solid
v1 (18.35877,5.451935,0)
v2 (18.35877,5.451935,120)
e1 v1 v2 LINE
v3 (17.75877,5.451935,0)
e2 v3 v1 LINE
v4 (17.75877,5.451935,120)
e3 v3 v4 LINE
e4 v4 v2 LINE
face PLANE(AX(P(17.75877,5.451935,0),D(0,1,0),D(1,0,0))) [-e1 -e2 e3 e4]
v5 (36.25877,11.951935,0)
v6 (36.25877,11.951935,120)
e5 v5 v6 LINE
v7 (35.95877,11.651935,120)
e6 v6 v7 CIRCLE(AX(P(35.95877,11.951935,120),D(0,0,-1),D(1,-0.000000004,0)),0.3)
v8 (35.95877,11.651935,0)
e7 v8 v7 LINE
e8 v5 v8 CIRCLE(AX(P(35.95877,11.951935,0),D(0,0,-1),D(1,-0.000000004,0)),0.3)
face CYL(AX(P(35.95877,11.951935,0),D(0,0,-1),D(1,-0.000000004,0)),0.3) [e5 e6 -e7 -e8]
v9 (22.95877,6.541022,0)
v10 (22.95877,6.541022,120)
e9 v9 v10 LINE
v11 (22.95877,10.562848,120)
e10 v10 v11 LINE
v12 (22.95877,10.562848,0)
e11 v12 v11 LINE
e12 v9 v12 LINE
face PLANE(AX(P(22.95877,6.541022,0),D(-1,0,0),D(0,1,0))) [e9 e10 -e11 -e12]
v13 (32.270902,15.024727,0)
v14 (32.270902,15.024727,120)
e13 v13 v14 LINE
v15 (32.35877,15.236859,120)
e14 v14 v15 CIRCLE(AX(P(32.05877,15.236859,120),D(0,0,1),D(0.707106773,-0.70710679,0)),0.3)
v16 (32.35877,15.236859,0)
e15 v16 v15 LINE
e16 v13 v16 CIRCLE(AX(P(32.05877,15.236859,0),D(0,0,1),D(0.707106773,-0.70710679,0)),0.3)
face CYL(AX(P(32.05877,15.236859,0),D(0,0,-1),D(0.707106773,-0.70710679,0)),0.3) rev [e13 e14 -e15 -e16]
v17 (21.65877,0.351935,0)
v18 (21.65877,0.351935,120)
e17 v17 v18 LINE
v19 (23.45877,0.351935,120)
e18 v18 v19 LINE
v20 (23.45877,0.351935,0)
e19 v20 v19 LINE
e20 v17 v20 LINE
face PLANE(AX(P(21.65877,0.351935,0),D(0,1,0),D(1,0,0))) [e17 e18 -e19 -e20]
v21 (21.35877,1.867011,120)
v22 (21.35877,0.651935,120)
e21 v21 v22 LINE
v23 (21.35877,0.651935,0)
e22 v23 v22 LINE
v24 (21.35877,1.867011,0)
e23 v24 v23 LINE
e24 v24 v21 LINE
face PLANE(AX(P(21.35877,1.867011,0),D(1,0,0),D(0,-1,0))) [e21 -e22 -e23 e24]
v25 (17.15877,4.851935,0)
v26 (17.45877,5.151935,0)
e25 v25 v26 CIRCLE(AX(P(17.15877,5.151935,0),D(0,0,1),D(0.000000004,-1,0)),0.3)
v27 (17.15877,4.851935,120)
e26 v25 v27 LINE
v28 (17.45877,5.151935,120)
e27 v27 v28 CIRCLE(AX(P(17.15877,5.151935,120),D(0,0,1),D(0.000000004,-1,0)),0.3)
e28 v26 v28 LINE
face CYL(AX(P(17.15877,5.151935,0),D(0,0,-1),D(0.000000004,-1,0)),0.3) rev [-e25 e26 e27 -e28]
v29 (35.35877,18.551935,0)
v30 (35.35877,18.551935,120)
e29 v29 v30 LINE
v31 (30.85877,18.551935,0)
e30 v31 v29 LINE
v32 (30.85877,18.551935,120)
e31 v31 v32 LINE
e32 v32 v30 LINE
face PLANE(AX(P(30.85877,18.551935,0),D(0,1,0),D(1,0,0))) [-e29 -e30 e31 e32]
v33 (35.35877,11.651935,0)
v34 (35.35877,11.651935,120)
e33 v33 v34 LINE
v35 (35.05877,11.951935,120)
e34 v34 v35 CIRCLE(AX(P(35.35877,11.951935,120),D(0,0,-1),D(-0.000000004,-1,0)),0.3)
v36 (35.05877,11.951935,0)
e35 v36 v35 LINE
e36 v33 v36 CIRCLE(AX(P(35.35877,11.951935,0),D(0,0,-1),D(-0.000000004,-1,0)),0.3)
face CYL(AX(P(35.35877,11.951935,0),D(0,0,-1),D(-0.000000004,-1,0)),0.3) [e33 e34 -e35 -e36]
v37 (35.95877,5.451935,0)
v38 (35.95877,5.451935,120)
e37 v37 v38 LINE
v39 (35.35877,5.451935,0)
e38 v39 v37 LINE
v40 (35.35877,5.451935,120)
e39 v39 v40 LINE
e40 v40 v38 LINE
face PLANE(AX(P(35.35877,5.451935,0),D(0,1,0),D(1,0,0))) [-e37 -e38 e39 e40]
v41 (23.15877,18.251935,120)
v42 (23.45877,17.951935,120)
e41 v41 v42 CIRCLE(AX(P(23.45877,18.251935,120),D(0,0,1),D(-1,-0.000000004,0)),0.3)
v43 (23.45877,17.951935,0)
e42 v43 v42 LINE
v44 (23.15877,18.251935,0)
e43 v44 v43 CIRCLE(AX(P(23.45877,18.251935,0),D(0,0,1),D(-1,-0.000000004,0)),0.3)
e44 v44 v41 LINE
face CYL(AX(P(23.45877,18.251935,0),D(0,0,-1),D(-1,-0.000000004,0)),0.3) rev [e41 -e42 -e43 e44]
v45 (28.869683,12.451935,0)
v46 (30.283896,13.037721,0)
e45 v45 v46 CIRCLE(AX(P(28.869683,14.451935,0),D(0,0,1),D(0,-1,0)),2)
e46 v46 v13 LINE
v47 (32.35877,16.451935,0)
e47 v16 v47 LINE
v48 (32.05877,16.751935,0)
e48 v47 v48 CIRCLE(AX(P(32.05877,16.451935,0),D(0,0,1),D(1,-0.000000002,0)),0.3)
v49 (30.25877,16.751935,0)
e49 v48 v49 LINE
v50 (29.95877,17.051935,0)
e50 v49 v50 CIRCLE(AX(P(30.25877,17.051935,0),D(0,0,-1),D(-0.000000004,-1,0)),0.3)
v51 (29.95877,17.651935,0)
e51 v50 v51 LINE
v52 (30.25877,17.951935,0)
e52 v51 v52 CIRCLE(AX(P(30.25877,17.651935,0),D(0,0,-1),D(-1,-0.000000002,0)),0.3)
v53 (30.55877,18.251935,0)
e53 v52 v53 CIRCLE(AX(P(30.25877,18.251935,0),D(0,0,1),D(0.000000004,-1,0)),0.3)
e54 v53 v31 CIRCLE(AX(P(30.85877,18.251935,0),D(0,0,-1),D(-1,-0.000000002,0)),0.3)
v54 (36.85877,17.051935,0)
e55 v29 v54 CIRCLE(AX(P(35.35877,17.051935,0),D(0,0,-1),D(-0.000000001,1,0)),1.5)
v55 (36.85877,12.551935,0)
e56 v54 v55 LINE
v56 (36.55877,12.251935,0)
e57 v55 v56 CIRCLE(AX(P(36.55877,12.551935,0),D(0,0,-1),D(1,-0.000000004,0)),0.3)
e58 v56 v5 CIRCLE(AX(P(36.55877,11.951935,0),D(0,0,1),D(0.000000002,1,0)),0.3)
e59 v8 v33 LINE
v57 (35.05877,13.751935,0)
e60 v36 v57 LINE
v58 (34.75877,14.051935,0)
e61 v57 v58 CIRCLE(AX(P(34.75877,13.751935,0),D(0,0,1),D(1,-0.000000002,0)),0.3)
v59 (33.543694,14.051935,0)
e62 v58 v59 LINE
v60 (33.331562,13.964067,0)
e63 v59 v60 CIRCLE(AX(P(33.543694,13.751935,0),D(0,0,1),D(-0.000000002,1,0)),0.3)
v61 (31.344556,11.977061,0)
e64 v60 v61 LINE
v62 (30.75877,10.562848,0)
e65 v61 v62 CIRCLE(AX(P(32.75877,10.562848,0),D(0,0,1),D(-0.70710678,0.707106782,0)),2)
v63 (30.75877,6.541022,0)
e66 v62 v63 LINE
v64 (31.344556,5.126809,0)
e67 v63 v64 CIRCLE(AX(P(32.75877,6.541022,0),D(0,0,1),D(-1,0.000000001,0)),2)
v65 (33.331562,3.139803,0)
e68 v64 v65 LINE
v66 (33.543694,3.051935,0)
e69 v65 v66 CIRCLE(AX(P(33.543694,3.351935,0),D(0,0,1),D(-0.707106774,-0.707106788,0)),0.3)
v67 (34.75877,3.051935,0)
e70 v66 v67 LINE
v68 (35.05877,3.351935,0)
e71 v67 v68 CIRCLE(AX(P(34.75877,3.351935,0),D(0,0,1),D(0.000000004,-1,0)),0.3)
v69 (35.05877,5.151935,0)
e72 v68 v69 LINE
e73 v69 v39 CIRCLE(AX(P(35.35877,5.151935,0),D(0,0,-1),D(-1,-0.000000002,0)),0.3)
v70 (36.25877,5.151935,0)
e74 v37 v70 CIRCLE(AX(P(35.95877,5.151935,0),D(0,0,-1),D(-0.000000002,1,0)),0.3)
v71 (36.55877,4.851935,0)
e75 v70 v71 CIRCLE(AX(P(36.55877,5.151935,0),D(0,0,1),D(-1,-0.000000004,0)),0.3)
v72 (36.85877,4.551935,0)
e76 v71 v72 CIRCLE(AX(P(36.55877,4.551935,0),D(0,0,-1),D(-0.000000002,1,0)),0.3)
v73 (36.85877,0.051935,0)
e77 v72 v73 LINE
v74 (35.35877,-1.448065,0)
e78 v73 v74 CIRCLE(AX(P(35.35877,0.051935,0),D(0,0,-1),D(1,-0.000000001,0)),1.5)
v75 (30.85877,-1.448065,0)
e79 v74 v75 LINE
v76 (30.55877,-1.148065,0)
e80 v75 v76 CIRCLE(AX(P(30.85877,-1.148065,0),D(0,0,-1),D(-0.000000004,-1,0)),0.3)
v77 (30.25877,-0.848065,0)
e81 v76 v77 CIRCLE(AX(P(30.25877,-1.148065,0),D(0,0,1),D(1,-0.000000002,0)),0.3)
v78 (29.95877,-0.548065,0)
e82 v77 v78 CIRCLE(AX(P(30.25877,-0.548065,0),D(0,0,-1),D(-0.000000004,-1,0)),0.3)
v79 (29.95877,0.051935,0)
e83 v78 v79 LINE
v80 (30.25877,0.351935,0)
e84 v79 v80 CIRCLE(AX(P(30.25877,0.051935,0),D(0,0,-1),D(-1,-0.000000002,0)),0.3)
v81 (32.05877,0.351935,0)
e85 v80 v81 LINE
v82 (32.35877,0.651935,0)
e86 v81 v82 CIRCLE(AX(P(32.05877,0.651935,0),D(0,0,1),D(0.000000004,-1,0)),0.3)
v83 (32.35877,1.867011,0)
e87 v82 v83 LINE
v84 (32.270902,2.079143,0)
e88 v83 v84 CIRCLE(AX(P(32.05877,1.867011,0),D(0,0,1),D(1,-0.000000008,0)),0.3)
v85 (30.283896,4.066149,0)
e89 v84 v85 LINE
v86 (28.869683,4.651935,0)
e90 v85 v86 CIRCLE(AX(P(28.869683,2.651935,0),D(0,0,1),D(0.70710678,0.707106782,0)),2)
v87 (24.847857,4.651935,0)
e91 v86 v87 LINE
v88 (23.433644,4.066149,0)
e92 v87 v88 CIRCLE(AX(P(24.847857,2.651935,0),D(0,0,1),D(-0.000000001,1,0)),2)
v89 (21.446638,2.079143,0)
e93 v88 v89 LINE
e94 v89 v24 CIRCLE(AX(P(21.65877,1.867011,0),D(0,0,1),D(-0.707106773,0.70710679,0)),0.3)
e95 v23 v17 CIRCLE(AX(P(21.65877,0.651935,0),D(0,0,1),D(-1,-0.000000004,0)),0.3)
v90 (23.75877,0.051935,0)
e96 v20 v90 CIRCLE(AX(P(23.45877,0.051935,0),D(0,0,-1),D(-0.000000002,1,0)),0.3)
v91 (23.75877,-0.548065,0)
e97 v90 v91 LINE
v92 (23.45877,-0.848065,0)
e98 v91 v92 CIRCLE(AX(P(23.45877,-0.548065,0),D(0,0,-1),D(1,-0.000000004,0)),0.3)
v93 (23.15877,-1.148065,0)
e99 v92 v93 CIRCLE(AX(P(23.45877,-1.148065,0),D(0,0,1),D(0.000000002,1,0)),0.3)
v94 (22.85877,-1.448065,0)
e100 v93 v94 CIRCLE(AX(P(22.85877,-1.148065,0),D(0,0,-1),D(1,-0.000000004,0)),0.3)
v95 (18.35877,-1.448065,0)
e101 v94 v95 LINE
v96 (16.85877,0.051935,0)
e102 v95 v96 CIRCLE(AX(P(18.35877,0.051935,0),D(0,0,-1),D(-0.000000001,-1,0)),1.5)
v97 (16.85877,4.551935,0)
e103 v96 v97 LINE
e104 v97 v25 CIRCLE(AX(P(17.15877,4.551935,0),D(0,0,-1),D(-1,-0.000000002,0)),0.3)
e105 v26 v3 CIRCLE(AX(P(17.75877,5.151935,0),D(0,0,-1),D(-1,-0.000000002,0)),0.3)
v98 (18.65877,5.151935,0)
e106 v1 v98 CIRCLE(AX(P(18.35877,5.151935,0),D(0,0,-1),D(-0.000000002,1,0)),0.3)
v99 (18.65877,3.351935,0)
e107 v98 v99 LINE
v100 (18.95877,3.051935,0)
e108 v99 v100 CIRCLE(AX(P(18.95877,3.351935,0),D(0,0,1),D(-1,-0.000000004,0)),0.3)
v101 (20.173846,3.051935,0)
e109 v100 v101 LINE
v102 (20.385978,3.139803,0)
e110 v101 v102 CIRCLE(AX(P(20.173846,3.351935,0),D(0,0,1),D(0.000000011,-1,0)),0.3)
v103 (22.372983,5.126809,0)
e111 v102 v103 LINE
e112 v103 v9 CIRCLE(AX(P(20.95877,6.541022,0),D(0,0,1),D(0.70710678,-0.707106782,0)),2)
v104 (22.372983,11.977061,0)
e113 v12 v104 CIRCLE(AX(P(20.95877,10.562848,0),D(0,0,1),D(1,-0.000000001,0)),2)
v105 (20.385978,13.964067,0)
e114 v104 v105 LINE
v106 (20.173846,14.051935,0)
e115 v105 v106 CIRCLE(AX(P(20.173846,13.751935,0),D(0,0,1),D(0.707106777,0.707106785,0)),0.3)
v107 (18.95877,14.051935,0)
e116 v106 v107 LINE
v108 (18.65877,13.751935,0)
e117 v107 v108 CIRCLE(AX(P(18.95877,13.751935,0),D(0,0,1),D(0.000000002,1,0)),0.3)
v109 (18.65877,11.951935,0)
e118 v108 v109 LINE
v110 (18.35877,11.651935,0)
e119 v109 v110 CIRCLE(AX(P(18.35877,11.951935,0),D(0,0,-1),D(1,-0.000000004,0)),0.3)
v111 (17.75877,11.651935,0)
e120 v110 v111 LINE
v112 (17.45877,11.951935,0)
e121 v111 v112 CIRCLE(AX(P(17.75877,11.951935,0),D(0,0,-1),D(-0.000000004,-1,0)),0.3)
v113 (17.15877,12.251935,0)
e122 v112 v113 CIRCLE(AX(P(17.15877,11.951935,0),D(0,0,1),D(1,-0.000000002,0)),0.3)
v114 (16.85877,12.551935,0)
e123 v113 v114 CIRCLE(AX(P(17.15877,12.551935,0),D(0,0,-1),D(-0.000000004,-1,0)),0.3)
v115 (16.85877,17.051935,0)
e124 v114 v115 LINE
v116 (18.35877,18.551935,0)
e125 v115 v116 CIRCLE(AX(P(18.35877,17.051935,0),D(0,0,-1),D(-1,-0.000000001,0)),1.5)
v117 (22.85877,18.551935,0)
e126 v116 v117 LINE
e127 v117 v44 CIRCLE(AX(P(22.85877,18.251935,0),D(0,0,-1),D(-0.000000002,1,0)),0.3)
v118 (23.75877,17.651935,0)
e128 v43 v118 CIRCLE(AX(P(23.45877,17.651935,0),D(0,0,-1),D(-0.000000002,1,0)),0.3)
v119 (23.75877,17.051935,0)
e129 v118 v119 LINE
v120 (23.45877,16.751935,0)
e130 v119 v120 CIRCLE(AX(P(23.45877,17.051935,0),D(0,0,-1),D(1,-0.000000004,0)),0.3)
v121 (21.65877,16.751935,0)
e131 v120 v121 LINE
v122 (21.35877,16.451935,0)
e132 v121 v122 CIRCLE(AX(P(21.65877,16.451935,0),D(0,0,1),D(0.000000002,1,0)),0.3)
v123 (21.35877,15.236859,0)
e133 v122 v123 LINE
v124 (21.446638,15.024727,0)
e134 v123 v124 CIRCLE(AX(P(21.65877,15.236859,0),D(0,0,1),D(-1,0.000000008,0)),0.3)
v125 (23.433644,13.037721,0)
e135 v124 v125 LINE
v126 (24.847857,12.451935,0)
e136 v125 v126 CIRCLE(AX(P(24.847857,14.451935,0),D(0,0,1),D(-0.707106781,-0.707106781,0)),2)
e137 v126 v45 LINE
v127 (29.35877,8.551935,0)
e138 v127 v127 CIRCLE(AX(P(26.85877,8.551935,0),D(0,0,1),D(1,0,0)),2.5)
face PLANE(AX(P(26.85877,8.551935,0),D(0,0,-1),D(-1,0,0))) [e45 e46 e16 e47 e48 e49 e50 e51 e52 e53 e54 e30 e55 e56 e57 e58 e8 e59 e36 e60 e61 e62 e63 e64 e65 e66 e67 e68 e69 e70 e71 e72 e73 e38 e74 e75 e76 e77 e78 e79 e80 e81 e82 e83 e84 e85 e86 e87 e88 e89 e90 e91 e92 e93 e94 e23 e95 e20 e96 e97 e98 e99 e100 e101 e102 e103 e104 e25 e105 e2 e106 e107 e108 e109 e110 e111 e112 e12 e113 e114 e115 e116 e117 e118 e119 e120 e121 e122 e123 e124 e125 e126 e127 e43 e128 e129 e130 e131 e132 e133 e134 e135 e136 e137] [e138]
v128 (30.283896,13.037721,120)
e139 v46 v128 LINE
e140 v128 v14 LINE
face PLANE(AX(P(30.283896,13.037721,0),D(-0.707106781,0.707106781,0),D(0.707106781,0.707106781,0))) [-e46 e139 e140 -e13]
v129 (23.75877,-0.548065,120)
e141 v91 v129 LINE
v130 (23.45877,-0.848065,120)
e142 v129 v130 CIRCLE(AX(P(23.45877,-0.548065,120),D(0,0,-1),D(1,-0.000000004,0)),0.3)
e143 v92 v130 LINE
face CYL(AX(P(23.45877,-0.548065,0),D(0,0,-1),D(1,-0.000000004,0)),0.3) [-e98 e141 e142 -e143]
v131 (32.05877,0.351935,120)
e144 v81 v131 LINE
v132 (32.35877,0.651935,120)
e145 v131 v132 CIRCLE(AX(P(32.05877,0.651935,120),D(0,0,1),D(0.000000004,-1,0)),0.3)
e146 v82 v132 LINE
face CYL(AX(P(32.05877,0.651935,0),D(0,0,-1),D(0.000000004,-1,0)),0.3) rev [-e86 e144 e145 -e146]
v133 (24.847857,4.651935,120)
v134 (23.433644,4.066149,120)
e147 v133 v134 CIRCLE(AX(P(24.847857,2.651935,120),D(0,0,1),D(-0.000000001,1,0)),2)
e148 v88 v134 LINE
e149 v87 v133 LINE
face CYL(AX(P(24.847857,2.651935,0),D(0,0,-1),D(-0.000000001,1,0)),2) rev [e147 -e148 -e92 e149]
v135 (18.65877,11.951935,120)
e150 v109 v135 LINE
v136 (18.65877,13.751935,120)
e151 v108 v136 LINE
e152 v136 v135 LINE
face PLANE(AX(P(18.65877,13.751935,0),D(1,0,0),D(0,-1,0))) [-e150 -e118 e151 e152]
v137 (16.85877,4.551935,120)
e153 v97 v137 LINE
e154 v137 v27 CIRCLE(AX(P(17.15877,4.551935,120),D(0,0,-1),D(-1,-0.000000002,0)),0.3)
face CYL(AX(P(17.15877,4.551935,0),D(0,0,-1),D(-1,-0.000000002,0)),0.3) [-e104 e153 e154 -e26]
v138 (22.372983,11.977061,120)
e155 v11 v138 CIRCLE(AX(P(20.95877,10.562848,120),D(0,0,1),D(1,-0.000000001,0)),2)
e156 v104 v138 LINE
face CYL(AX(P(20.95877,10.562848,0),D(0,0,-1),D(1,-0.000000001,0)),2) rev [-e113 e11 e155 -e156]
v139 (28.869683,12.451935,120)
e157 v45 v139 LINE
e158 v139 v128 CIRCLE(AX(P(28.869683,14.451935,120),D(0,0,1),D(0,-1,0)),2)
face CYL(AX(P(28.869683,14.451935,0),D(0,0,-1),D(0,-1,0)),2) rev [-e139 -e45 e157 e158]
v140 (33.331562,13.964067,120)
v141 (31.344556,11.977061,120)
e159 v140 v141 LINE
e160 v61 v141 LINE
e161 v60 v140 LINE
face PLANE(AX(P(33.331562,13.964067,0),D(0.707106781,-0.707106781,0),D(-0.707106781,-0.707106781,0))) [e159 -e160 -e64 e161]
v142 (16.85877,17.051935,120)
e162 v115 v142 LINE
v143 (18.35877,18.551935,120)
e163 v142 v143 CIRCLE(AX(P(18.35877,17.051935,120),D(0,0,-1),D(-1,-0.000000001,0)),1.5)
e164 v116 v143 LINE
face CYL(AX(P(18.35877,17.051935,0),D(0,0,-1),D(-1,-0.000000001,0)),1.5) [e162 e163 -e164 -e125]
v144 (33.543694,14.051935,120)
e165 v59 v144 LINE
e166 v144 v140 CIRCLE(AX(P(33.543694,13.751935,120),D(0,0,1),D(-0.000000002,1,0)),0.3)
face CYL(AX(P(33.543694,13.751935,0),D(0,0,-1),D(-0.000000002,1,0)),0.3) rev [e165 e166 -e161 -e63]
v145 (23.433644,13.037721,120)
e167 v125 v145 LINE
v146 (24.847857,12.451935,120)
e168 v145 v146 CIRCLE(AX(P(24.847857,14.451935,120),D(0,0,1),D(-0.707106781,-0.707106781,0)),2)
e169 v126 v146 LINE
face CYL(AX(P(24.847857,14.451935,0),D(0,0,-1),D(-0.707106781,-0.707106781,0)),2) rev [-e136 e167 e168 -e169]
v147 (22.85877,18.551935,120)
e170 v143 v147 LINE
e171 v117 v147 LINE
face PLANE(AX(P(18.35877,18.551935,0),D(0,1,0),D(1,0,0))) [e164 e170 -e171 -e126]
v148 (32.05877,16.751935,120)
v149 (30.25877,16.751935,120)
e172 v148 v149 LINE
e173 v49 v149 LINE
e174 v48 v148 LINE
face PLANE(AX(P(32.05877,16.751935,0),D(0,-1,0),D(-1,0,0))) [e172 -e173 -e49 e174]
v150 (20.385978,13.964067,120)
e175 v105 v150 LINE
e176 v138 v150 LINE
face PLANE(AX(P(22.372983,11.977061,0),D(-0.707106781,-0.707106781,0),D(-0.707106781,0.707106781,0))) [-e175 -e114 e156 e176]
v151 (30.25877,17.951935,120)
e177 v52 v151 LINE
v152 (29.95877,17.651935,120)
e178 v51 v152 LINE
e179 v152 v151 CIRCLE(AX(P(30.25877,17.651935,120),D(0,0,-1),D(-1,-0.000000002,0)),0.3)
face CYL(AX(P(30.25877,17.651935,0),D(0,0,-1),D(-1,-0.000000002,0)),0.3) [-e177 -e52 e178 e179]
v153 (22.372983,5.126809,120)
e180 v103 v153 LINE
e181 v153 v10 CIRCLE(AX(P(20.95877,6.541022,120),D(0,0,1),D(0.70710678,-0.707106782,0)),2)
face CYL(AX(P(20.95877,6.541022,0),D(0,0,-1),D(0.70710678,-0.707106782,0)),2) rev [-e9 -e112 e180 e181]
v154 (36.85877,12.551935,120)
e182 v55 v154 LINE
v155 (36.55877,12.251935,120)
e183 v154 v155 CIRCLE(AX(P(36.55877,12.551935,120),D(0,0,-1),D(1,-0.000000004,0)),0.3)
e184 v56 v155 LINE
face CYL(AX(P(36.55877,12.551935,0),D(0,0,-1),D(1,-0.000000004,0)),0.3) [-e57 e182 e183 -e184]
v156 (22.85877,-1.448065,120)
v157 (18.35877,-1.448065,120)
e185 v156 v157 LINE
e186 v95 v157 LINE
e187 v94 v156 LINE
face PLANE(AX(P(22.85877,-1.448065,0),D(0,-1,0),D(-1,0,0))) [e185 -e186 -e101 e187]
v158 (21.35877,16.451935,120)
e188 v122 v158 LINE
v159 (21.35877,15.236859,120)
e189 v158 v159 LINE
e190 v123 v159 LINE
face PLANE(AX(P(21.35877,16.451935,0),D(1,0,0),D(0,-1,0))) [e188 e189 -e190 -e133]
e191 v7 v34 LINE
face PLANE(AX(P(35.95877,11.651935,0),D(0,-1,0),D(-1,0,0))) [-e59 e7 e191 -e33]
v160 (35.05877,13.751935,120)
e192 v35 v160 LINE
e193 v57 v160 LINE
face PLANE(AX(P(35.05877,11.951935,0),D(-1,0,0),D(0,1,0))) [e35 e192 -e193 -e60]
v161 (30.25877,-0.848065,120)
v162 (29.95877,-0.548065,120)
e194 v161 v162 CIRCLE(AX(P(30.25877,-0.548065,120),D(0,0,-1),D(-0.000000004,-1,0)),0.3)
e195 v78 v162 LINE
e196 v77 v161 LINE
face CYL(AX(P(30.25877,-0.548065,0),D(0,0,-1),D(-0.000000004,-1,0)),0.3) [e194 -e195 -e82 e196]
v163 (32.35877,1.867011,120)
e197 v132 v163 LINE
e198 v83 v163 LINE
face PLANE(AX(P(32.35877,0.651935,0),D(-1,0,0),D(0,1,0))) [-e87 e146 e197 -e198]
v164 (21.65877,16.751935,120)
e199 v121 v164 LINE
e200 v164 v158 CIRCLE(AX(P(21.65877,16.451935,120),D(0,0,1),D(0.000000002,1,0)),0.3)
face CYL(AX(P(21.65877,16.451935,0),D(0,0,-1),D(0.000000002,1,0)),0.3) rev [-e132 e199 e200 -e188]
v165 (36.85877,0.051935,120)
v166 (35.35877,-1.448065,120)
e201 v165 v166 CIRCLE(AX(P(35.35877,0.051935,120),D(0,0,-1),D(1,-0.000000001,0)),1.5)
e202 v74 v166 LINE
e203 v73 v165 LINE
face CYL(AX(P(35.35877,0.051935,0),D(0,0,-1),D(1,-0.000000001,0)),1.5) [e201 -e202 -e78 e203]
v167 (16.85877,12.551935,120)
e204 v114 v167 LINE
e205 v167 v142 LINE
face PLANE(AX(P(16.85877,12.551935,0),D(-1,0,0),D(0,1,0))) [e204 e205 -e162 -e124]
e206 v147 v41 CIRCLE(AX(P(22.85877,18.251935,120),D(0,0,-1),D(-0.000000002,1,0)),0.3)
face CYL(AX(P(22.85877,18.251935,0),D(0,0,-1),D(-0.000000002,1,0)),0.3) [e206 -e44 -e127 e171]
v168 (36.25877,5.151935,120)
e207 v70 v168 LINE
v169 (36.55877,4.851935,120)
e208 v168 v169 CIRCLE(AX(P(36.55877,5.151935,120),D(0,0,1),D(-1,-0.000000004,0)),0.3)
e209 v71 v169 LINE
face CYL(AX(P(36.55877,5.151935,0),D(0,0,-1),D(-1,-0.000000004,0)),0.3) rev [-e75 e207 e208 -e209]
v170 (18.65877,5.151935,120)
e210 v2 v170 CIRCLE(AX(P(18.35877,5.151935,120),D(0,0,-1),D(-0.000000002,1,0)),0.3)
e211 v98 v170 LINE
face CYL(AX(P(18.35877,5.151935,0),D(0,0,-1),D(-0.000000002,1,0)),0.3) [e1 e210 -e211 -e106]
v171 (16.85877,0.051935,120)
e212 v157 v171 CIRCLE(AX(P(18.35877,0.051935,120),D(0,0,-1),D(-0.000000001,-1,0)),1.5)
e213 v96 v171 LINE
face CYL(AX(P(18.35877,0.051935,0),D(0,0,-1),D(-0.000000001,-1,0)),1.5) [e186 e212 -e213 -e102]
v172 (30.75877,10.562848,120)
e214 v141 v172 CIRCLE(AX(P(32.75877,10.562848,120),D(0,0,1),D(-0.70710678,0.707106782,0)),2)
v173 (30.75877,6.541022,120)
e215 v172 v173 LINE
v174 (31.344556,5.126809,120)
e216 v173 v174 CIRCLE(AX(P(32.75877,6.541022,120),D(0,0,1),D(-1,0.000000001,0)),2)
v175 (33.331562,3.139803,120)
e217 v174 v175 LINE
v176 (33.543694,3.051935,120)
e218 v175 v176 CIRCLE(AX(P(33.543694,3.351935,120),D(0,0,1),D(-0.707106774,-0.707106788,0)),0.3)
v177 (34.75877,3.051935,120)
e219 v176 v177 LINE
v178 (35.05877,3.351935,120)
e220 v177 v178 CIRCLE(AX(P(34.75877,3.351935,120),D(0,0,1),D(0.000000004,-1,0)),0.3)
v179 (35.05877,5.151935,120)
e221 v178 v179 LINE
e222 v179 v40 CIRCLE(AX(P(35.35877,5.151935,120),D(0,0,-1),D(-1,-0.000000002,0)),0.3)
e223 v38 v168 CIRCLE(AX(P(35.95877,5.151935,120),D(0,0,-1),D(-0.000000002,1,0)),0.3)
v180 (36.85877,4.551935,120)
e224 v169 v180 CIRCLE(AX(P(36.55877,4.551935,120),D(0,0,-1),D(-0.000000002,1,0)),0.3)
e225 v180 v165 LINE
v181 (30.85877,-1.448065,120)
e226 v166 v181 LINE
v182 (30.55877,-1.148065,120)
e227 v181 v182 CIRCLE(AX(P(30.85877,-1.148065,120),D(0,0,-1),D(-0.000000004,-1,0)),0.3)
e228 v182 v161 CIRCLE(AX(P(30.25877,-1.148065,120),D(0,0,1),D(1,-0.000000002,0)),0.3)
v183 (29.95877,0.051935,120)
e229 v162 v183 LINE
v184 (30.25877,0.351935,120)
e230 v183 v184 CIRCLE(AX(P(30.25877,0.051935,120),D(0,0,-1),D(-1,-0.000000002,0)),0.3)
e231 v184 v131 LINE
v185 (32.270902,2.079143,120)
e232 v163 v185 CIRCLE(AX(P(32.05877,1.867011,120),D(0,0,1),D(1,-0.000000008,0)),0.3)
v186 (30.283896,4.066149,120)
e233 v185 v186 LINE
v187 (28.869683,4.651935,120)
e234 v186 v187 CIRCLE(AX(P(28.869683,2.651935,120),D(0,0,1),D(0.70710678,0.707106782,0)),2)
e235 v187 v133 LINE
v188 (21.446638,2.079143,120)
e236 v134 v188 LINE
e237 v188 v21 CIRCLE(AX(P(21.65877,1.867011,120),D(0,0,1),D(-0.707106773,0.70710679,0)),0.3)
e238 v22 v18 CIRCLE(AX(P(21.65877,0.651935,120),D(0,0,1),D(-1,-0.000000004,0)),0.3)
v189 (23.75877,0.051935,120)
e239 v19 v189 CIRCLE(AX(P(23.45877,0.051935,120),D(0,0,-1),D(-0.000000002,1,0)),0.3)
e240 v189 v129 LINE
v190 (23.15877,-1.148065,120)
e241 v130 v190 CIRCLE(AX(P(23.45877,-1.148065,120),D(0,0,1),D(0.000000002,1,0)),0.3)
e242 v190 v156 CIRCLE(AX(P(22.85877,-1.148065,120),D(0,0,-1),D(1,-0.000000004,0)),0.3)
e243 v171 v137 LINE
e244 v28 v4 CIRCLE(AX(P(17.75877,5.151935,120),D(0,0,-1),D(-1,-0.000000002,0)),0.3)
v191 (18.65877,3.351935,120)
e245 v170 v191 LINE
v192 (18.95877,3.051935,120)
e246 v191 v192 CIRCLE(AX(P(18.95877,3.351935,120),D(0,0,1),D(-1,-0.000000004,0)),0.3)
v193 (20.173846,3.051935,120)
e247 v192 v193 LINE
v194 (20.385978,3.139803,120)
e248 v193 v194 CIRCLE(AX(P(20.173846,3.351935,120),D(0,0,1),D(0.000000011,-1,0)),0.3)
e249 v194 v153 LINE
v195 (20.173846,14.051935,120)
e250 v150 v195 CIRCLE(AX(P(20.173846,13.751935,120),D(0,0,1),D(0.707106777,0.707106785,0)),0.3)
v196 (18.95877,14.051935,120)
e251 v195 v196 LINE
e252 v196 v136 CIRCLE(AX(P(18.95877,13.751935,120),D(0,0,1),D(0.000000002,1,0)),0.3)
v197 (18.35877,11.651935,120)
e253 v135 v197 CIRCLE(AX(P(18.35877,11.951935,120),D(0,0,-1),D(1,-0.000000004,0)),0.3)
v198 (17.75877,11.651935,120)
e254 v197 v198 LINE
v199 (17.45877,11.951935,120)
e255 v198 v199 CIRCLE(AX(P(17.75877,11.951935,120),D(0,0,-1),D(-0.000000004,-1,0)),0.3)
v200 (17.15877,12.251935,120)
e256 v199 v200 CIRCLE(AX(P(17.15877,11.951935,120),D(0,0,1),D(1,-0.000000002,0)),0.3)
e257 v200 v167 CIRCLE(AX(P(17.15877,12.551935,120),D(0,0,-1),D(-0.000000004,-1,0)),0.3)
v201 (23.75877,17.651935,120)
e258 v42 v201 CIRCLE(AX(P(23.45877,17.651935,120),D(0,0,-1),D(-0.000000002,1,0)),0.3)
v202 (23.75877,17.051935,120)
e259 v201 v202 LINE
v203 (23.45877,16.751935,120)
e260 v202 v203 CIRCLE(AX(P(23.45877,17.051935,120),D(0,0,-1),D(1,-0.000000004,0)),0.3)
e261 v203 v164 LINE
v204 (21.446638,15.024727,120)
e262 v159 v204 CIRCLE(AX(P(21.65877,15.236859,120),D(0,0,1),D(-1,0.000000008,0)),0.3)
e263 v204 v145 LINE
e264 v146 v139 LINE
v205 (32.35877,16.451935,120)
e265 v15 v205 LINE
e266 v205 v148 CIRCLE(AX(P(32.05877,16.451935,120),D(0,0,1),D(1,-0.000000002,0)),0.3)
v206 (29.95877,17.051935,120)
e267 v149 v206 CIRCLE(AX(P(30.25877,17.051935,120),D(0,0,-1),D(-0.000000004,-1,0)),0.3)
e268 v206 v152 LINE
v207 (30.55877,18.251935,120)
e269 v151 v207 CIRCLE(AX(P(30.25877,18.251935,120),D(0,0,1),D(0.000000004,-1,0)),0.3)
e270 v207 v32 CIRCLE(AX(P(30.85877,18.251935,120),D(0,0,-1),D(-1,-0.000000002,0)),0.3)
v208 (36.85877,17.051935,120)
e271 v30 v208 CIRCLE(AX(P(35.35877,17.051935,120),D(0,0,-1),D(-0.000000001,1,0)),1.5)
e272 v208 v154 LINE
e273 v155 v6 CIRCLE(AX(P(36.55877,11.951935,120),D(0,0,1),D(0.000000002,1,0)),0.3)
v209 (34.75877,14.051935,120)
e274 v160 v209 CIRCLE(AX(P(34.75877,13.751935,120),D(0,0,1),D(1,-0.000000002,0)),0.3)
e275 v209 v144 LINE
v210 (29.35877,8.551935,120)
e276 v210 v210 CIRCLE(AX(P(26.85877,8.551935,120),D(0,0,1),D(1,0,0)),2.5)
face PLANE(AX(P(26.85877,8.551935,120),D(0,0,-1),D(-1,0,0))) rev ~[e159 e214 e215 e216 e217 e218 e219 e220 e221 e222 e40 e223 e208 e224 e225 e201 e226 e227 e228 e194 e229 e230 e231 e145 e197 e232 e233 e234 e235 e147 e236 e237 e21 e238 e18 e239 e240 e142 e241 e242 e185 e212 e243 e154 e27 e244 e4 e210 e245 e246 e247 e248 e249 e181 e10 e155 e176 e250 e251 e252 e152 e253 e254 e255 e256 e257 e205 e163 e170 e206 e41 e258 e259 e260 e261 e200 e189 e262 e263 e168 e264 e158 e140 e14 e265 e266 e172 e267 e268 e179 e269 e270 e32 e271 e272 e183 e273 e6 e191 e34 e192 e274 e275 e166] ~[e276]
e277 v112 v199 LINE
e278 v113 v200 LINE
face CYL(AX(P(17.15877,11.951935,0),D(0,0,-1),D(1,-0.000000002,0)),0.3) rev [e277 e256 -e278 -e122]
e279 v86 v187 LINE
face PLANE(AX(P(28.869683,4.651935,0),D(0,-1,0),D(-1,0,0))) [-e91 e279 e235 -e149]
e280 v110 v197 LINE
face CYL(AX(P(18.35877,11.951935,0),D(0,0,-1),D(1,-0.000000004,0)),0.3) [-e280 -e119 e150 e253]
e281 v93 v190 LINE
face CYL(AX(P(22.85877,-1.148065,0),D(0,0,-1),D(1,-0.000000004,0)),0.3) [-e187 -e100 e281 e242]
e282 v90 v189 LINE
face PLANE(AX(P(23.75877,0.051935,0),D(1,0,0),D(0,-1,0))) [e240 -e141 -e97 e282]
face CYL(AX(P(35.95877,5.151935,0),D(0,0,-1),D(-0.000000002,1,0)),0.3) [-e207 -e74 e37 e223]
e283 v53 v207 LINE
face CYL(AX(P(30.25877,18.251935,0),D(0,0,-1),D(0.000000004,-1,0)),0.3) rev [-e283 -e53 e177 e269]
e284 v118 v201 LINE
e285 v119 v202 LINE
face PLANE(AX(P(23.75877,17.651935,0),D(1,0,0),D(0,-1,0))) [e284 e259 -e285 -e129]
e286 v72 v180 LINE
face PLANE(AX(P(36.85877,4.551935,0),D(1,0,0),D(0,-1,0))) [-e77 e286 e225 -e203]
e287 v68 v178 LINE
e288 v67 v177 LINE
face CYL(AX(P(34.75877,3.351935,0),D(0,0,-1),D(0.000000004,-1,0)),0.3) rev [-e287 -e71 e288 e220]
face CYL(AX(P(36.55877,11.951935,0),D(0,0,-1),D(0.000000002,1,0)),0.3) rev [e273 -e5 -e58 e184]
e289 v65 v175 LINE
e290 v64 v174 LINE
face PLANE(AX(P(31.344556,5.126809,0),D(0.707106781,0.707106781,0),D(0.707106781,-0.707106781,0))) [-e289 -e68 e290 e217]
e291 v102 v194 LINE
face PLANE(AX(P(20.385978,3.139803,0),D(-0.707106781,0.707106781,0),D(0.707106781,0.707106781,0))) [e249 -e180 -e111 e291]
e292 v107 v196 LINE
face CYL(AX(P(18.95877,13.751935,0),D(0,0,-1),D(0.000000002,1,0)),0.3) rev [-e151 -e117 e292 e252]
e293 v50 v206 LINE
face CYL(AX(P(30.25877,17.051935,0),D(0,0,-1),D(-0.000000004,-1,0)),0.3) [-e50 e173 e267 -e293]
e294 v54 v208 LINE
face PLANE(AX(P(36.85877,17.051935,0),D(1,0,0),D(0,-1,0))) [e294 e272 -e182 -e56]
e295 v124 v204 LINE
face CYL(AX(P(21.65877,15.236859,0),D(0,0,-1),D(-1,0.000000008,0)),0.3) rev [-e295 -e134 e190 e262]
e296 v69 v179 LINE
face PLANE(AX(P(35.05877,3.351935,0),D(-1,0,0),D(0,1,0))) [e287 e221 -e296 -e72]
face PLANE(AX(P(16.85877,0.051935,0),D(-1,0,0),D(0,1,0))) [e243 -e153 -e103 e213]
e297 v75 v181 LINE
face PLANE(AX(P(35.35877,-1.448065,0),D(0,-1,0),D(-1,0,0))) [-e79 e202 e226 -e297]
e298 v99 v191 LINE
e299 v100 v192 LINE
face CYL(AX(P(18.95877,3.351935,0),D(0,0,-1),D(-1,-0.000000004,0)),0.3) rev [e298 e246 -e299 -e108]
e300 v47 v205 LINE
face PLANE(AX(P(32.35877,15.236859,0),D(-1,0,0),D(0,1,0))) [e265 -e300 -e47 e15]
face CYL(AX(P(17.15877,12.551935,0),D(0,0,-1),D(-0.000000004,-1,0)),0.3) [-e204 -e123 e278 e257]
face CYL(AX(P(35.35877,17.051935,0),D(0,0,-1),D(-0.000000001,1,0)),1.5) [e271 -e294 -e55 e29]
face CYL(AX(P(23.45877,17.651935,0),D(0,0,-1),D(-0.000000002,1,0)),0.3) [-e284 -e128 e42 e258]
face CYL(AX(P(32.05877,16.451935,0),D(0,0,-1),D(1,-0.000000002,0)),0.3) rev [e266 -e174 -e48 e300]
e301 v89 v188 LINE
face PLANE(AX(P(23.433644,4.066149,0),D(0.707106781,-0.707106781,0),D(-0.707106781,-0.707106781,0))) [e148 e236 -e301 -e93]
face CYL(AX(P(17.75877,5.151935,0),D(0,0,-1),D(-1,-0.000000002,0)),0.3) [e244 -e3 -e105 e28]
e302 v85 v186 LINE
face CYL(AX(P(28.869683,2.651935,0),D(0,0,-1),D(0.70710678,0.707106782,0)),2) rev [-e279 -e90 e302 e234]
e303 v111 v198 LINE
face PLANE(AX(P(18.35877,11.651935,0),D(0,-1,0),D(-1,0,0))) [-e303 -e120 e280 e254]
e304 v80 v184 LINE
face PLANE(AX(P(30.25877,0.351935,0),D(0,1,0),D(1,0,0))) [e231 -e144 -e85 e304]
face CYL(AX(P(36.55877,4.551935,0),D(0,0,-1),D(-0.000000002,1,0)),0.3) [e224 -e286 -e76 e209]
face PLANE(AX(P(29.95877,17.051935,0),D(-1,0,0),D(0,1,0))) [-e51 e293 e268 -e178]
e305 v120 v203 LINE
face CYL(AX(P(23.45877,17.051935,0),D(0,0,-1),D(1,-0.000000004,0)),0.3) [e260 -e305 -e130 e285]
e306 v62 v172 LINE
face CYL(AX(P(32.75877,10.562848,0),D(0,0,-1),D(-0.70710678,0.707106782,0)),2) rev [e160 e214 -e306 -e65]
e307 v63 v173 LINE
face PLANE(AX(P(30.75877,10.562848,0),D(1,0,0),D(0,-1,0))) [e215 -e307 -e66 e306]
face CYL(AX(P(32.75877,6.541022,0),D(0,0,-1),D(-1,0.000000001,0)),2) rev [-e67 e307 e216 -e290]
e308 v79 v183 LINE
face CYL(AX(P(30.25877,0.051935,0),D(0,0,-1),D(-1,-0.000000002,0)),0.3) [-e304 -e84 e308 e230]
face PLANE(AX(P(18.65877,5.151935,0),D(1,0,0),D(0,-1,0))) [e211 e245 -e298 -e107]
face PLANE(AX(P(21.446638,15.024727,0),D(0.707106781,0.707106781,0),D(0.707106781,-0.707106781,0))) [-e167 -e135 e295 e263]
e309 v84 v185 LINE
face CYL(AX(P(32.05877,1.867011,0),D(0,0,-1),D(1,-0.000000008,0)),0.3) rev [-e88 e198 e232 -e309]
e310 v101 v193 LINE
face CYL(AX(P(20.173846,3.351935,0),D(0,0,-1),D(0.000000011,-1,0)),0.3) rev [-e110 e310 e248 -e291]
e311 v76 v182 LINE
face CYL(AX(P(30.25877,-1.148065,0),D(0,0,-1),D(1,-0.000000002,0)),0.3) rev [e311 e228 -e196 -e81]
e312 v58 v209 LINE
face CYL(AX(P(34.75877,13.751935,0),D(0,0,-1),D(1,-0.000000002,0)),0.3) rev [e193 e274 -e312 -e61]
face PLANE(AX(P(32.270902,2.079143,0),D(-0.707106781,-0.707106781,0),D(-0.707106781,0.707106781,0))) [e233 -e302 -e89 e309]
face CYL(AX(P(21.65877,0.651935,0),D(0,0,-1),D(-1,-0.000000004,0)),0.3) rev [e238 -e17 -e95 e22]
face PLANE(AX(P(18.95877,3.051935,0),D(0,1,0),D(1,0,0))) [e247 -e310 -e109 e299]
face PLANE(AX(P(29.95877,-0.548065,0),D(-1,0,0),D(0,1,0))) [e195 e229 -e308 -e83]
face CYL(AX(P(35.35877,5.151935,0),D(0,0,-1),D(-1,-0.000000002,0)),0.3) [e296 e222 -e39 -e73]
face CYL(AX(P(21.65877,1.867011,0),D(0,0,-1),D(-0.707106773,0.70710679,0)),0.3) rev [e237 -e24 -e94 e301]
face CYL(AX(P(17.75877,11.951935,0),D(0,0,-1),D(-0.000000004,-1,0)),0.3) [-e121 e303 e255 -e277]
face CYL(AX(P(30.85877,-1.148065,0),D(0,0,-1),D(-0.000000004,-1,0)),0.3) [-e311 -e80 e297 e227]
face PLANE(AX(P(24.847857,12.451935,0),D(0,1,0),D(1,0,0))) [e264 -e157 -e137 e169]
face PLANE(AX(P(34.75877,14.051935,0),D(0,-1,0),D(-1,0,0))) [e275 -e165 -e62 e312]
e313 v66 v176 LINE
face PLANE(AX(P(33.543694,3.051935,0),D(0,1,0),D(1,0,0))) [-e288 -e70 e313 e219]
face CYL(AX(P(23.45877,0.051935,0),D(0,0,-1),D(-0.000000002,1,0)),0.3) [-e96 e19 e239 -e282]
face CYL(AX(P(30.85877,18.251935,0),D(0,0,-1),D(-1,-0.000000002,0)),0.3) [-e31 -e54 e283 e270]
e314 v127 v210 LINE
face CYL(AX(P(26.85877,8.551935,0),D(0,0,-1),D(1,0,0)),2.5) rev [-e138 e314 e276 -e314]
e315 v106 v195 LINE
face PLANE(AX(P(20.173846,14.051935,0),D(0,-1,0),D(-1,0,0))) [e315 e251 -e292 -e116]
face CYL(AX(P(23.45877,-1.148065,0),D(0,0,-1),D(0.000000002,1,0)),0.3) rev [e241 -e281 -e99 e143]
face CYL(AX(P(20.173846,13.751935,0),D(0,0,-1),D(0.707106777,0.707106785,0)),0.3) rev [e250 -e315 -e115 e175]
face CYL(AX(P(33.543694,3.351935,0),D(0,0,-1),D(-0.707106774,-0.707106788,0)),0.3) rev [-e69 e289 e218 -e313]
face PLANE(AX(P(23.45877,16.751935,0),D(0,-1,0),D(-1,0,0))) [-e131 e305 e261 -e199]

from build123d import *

# Parameters (mm, degrees)
SKETCH_1_R      = 2.5
EXTRUDE_1_DEPTH = 120


with BuildPart() as part:
    # 草图1 → 凸台-拉伸1 (new body)
    with BuildSketch(Plane.XY):
        with BuildLine():
            Line((36.858769875, 17.051935037), (36.858769875, 12.551935037))
            ThreePointArc((36.858769875, 12.551935037), (36.770901909, 12.339803003), (36.558769875, 12.251935037))
            ThreePointArc((36.558769875, 12.251935037), (36.346637841, 12.164067072), (36.258769875, 11.951935037))
            ThreePointArc((36.258769875, 11.951935037), (36.170901909, 11.739803003), (35.958769875, 11.651935037))
            Line((35.958769875, 11.651935037), (35.358769875, 11.651935037))
            ThreePointArc((35.358769875, 11.651935037), (35.146637841, 11.739803003), (35.058769875, 11.951935037))
            Line((35.058769875, 11.951935037), (35.058769875, 13.751935037))
            ThreePointArc((35.058769875, 13.751935037), (34.970901909, 13.964067072), (34.758769875, 14.051935037))
            Line((34.758769875, 14.051935037), (33.543694115, 14.051935037))
            ThreePointArc((33.543694115, 14.051935037), (33.428889086, 14.029098897), (33.331562081, 13.964067072))
            Line((33.331562081, 13.964067072), (31.344556313, 11.977061303))
            ThreePointArc((31.344556313, 11.977061303), (30.91101081, 11.328214606), (30.758769875, 10.562847741))
            Line((30.758769875, 10.562847741), (30.758769875, 6.541022334))
            ThreePointArc((30.758769875, 6.541022334), (30.91101081, 5.775655469), (31.344556313, 5.126808772))
            Line((31.344556313, 5.126808772), (33.331562081, 3.139803003))
            ThreePointArc((33.331562081, 3.139803003), (33.428889086, 3.074771178), (33.543694115, 3.051935037))
            Line((33.543694115, 3.051935037), (34.758769875, 3.051935037))
            ThreePointArc((34.758769875, 3.051935037), (34.970901909, 3.139803003), (35.058769875, 3.351935037))
            Line((35.058769875, 3.351935037), (35.058769875, 5.151935037))
            ThreePointArc((35.058769875, 5.151935037), (35.146637841, 5.364067072), (35.358769875, 5.451935037))
            Line((35.358769875, 5.451935037), (35.958769875, 5.451935037))
            ThreePointArc((35.958769875, 5.451935037), (36.170901909, 5.364067072), (36.258769875, 5.151935037))
            ThreePointArc((36.258769875, 5.151935037), (36.346637841, 4.939803003), (36.558769875, 4.851935037))
            ThreePointArc((36.558769875, 4.851935037), (36.770901909, 4.764067072), (36.858769875, 4.551935037))
            Line((36.858769875, 4.551935037), (36.858769875, 0.051935037))
            ThreePointArc((36.858769875, 0.051935037), (36.419430047, -1.008725134), (35.358769875, -1.448064963))
            Line((35.358769875, -1.448064963), (30.858769875, -1.448064963))
            ThreePointArc((30.858769875, -1.448064963), (30.646637841, -1.360196997), (30.558769875, -1.148064963))
            ThreePointArc((30.558769875, -1.148064963), (30.470901909, -0.935932928), (30.258769875, -0.848064963))
            ThreePointArc((30.258769875, -0.848064963), (30.046637841, -0.760196997), (29.958769875, -0.548064963))
            Line((29.958769875, -0.548064963), (29.958769875, 0.051935037))
            ThreePointArc((29.958769875, 0.051935037), (30.046637841, 0.264067072), (30.258769875, 0.351935037))
            Line((30.258769875, 0.351935037), (32.058769875, 0.351935037))
            ThreePointArc((32.058769875, 0.351935037), (32.270901909, 0.439803003), (32.358769875, 0.651935037))
            Line((32.358769875, 0.651935037), (32.358769875, 1.867010797))
            ThreePointArc((32.358769875, 1.867010797), (32.335933735, 1.981815827), (32.270901909, 2.079142831))
            Line((32.270901909, 2.079142831), (30.283896141, 4.0661486))
            ThreePointArc((30.283896141, 4.0661486), (29.635049443, 4.499694102), (28.869682578, 4.651935037))
            Line((28.869682578, 4.651935037), (24.847857171, 4.651935037))
            ThreePointArc((24.847857171, 4.651935037), (24.082490307, 4.499694102), (23.433643609, 4.0661486))
            Line((23.433643609, 4.0661486), (21.446637841, 2.079142831))
            ThreePointArc((21.446637841, 2.079142831), (21.381606015, 1.981815827), (21.358769875, 1.867010797))
            Line((21.358769875, 1.867010797), (21.358769875, 0.651935037))
            ThreePointArc((21.358769875, 0.651935037), (21.446637841, 0.439803003), (21.658769875, 0.351935037))
            Line((21.658769875, 0.351935037), (23.458769875, 0.351935037))
            ThreePointArc((23.458769875, 0.351935037), (23.670901909, 0.264067072), (23.758769875, 0.051935037))
            Line((23.758769875, 0.051935037), (23.758769875, -0.548064963))
            ThreePointArc((23.758769875, -0.548064963), (23.670901909, -0.760196997), (23.458769875, -0.848064963))
            ThreePointArc((23.458769875, -0.848064963), (23.246637841, -0.935932928), (23.158769875, -1.148064963))
            ThreePointArc((23.158769875, -1.148064963), (23.070901909, -1.360196997), (22.858769875, -1.448064963))
            Line((22.858769875, -1.448064963), (18.358769875, -1.448064963))
            ThreePointArc((18.358769875, -1.448064963), (17.298109703, -1.008725134), (16.858769875, 0.051935037))
            Line((16.858769875, 0.051935037), (16.858769875, 4.551935037))
            ThreePointArc((16.858769875, 4.551935037), (16.946637841, 4.764067072), (17.158769875, 4.851935037))
            ThreePointArc((17.158769875, 4.851935037), (17.370901909, 4.939803003), (17.458769875, 5.151935037))
            ThreePointArc((17.458769875, 5.151935037), (17.546637841, 5.364067072), (17.758769875, 5.451935037))
            Line((17.758769875, 5.451935037), (18.358769875, 5.451935037))
            ThreePointArc((18.358769875, 5.451935037), (18.570901909, 5.364067072), (18.658769875, 5.151935037))
            Line((18.658769875, 5.151935037), (18.658769875, 3.351935037))
            ThreePointArc((18.658769875, 3.351935037), (18.746637841, 3.139803003), (18.958769875, 3.051935037))
            Line((18.958769875, 3.051935037), (20.173845634, 3.051935037))
            ThreePointArc((20.173845634, 3.051935037), (20.288650664, 3.074771178), (20.385977669, 3.139803003))
            Line((20.385977669, 3.139803003), (22.372983437, 5.126808772))
            ThreePointArc((22.372983437, 5.126808772), (22.80652894, 5.775655469), (22.958769875, 6.541022334))
            Line((22.958769875, 6.541022334), (22.958769875, 10.562847741))
            ThreePointArc((22.958769875, 10.562847741), (22.80652894, 11.328214606), (22.372983437, 11.977061303))
            Line((22.372983437, 11.977061303), (20.385977669, 13.964067072))
            ThreePointArc((20.385977669, 13.964067072), (20.288650664, 14.029098897), (20.173845634, 14.051935037))
            Line((20.173845634, 14.051935037), (18.958769875, 14.051935037))
            ThreePointArc((18.958769875, 14.051935037), (18.746637841, 13.964067072), (18.658769875, 13.751935037))
            Line((18.658769875, 13.751935037), (18.658769875, 11.951935037))
            ThreePointArc((18.658769875, 11.951935037), (18.570901909, 11.739803003), (18.358769875, 11.651935037))
            Line((18.358769875, 11.651935037), (17.758769875, 11.651935037))
            ThreePointArc((17.758769875, 11.651935037), (17.546637841, 11.739803003), (17.458769875, 11.951935037))
            ThreePointArc((17.458769875, 11.951935037), (17.370901909, 12.164067072), (17.158769875, 12.251935037))
            ThreePointArc((17.158769875, 12.251935037), (16.946637841, 12.339803003), (16.858769875, 12.551935037))
            Line((16.858769875, 12.551935037), (16.858769875, 17.051935037))
            ThreePointArc((16.858769875, 17.051935037), (17.298109703, 18.112595209), (18.358769875, 18.551935037))
            Line((18.358769875, 18.551935037), (22.858769875, 18.551935037))
            ThreePointArc((22.858769875, 18.551935037), (23.070901909, 18.464067072), (23.158769875, 18.251935037))
            ThreePointArc((23.158769875, 18.251935037), (23.246637841, 18.039803003), (23.458769875, 17.951935037))
            ThreePointArc((23.458769875, 17.951935037), (23.670901909, 17.864067072), (23.758769875, 17.651935037))
            Line((23.758769875, 17.651935037), (23.758769875, 17.051935037))
            ThreePointArc((23.758769875, 17.051935037), (23.670901909, 16.839803003), (23.458769875, 16.751935037))
            Line((23.458769875, 16.751935037), (21.658769875, 16.751935037))
            ThreePointArc((21.658769875, 16.751935037), (21.446637841, 16.664067072), (21.358769875, 16.451935037))
            Line((21.358769875, 16.451935037), (21.358769875, 15.236859278))
            ThreePointArc((21.358769875, 15.236859278), (21.381606015, 15.122054248), (21.446637841, 15.024727244))
            Line((21.446637841, 15.024727244), (23.433643609, 13.037721475))
            ThreePointArc((23.433643609, 13.037721475), (24.082490307, 12.604175972), (24.847857171, 12.451935037))
            Line((24.847857171, 12.451935037), (28.869682578, 12.451935037))
            ThreePointArc((28.869682578, 12.451935037), (29.635049443, 12.604175972), (30.283896141, 13.037721475))
            Line((30.283896141, 13.037721475), (32.270901909, 15.024727244))
            ThreePointArc((32.270901909, 15.024727244), (32.335933735, 15.122054248), (32.358769875, 15.236859278))
            Line((32.358769875, 15.236859278), (32.358769875, 16.451935037))
            ThreePointArc((32.358769875, 16.451935037), (32.270901909, 16.664067072), (32.058769875, 16.751935037))
            Line((32.058769875, 16.751935037), (30.258769875, 16.751935037))
            ThreePointArc((30.258769875, 16.751935037), (30.046637841, 16.839803003), (29.958769875, 17.051935037))
            Line((29.958769875, 17.051935037), (29.958769875, 17.651935037))
            ThreePointArc((29.958769875, 17.651935037), (30.046637841, 17.864067072), (30.258769875, 17.951935037))
            ThreePointArc((30.258769875, 17.951935037), (30.470901909, 18.039803003), (30.558769875, 18.251935037))
            ThreePointArc((30.558769875, 18.251935037), (30.646637841, 18.464067072), (30.858769875, 18.551935037))
            Line((30.858769875, 18.551935037), (35.358769875, 18.551935037))
            ThreePointArc((35.358769875, 18.551935037), (36.419430047, 18.112595209), (36.858769875, 17.051935037))
        make_face()
        with Locations((26.858769875, 8.551935037)):
            Circle(SKETCH_1_R, mode=Mode.SUBTRACT)
    extrude(amount=EXTRUDE_1_DEPTH)


solid = part.part
